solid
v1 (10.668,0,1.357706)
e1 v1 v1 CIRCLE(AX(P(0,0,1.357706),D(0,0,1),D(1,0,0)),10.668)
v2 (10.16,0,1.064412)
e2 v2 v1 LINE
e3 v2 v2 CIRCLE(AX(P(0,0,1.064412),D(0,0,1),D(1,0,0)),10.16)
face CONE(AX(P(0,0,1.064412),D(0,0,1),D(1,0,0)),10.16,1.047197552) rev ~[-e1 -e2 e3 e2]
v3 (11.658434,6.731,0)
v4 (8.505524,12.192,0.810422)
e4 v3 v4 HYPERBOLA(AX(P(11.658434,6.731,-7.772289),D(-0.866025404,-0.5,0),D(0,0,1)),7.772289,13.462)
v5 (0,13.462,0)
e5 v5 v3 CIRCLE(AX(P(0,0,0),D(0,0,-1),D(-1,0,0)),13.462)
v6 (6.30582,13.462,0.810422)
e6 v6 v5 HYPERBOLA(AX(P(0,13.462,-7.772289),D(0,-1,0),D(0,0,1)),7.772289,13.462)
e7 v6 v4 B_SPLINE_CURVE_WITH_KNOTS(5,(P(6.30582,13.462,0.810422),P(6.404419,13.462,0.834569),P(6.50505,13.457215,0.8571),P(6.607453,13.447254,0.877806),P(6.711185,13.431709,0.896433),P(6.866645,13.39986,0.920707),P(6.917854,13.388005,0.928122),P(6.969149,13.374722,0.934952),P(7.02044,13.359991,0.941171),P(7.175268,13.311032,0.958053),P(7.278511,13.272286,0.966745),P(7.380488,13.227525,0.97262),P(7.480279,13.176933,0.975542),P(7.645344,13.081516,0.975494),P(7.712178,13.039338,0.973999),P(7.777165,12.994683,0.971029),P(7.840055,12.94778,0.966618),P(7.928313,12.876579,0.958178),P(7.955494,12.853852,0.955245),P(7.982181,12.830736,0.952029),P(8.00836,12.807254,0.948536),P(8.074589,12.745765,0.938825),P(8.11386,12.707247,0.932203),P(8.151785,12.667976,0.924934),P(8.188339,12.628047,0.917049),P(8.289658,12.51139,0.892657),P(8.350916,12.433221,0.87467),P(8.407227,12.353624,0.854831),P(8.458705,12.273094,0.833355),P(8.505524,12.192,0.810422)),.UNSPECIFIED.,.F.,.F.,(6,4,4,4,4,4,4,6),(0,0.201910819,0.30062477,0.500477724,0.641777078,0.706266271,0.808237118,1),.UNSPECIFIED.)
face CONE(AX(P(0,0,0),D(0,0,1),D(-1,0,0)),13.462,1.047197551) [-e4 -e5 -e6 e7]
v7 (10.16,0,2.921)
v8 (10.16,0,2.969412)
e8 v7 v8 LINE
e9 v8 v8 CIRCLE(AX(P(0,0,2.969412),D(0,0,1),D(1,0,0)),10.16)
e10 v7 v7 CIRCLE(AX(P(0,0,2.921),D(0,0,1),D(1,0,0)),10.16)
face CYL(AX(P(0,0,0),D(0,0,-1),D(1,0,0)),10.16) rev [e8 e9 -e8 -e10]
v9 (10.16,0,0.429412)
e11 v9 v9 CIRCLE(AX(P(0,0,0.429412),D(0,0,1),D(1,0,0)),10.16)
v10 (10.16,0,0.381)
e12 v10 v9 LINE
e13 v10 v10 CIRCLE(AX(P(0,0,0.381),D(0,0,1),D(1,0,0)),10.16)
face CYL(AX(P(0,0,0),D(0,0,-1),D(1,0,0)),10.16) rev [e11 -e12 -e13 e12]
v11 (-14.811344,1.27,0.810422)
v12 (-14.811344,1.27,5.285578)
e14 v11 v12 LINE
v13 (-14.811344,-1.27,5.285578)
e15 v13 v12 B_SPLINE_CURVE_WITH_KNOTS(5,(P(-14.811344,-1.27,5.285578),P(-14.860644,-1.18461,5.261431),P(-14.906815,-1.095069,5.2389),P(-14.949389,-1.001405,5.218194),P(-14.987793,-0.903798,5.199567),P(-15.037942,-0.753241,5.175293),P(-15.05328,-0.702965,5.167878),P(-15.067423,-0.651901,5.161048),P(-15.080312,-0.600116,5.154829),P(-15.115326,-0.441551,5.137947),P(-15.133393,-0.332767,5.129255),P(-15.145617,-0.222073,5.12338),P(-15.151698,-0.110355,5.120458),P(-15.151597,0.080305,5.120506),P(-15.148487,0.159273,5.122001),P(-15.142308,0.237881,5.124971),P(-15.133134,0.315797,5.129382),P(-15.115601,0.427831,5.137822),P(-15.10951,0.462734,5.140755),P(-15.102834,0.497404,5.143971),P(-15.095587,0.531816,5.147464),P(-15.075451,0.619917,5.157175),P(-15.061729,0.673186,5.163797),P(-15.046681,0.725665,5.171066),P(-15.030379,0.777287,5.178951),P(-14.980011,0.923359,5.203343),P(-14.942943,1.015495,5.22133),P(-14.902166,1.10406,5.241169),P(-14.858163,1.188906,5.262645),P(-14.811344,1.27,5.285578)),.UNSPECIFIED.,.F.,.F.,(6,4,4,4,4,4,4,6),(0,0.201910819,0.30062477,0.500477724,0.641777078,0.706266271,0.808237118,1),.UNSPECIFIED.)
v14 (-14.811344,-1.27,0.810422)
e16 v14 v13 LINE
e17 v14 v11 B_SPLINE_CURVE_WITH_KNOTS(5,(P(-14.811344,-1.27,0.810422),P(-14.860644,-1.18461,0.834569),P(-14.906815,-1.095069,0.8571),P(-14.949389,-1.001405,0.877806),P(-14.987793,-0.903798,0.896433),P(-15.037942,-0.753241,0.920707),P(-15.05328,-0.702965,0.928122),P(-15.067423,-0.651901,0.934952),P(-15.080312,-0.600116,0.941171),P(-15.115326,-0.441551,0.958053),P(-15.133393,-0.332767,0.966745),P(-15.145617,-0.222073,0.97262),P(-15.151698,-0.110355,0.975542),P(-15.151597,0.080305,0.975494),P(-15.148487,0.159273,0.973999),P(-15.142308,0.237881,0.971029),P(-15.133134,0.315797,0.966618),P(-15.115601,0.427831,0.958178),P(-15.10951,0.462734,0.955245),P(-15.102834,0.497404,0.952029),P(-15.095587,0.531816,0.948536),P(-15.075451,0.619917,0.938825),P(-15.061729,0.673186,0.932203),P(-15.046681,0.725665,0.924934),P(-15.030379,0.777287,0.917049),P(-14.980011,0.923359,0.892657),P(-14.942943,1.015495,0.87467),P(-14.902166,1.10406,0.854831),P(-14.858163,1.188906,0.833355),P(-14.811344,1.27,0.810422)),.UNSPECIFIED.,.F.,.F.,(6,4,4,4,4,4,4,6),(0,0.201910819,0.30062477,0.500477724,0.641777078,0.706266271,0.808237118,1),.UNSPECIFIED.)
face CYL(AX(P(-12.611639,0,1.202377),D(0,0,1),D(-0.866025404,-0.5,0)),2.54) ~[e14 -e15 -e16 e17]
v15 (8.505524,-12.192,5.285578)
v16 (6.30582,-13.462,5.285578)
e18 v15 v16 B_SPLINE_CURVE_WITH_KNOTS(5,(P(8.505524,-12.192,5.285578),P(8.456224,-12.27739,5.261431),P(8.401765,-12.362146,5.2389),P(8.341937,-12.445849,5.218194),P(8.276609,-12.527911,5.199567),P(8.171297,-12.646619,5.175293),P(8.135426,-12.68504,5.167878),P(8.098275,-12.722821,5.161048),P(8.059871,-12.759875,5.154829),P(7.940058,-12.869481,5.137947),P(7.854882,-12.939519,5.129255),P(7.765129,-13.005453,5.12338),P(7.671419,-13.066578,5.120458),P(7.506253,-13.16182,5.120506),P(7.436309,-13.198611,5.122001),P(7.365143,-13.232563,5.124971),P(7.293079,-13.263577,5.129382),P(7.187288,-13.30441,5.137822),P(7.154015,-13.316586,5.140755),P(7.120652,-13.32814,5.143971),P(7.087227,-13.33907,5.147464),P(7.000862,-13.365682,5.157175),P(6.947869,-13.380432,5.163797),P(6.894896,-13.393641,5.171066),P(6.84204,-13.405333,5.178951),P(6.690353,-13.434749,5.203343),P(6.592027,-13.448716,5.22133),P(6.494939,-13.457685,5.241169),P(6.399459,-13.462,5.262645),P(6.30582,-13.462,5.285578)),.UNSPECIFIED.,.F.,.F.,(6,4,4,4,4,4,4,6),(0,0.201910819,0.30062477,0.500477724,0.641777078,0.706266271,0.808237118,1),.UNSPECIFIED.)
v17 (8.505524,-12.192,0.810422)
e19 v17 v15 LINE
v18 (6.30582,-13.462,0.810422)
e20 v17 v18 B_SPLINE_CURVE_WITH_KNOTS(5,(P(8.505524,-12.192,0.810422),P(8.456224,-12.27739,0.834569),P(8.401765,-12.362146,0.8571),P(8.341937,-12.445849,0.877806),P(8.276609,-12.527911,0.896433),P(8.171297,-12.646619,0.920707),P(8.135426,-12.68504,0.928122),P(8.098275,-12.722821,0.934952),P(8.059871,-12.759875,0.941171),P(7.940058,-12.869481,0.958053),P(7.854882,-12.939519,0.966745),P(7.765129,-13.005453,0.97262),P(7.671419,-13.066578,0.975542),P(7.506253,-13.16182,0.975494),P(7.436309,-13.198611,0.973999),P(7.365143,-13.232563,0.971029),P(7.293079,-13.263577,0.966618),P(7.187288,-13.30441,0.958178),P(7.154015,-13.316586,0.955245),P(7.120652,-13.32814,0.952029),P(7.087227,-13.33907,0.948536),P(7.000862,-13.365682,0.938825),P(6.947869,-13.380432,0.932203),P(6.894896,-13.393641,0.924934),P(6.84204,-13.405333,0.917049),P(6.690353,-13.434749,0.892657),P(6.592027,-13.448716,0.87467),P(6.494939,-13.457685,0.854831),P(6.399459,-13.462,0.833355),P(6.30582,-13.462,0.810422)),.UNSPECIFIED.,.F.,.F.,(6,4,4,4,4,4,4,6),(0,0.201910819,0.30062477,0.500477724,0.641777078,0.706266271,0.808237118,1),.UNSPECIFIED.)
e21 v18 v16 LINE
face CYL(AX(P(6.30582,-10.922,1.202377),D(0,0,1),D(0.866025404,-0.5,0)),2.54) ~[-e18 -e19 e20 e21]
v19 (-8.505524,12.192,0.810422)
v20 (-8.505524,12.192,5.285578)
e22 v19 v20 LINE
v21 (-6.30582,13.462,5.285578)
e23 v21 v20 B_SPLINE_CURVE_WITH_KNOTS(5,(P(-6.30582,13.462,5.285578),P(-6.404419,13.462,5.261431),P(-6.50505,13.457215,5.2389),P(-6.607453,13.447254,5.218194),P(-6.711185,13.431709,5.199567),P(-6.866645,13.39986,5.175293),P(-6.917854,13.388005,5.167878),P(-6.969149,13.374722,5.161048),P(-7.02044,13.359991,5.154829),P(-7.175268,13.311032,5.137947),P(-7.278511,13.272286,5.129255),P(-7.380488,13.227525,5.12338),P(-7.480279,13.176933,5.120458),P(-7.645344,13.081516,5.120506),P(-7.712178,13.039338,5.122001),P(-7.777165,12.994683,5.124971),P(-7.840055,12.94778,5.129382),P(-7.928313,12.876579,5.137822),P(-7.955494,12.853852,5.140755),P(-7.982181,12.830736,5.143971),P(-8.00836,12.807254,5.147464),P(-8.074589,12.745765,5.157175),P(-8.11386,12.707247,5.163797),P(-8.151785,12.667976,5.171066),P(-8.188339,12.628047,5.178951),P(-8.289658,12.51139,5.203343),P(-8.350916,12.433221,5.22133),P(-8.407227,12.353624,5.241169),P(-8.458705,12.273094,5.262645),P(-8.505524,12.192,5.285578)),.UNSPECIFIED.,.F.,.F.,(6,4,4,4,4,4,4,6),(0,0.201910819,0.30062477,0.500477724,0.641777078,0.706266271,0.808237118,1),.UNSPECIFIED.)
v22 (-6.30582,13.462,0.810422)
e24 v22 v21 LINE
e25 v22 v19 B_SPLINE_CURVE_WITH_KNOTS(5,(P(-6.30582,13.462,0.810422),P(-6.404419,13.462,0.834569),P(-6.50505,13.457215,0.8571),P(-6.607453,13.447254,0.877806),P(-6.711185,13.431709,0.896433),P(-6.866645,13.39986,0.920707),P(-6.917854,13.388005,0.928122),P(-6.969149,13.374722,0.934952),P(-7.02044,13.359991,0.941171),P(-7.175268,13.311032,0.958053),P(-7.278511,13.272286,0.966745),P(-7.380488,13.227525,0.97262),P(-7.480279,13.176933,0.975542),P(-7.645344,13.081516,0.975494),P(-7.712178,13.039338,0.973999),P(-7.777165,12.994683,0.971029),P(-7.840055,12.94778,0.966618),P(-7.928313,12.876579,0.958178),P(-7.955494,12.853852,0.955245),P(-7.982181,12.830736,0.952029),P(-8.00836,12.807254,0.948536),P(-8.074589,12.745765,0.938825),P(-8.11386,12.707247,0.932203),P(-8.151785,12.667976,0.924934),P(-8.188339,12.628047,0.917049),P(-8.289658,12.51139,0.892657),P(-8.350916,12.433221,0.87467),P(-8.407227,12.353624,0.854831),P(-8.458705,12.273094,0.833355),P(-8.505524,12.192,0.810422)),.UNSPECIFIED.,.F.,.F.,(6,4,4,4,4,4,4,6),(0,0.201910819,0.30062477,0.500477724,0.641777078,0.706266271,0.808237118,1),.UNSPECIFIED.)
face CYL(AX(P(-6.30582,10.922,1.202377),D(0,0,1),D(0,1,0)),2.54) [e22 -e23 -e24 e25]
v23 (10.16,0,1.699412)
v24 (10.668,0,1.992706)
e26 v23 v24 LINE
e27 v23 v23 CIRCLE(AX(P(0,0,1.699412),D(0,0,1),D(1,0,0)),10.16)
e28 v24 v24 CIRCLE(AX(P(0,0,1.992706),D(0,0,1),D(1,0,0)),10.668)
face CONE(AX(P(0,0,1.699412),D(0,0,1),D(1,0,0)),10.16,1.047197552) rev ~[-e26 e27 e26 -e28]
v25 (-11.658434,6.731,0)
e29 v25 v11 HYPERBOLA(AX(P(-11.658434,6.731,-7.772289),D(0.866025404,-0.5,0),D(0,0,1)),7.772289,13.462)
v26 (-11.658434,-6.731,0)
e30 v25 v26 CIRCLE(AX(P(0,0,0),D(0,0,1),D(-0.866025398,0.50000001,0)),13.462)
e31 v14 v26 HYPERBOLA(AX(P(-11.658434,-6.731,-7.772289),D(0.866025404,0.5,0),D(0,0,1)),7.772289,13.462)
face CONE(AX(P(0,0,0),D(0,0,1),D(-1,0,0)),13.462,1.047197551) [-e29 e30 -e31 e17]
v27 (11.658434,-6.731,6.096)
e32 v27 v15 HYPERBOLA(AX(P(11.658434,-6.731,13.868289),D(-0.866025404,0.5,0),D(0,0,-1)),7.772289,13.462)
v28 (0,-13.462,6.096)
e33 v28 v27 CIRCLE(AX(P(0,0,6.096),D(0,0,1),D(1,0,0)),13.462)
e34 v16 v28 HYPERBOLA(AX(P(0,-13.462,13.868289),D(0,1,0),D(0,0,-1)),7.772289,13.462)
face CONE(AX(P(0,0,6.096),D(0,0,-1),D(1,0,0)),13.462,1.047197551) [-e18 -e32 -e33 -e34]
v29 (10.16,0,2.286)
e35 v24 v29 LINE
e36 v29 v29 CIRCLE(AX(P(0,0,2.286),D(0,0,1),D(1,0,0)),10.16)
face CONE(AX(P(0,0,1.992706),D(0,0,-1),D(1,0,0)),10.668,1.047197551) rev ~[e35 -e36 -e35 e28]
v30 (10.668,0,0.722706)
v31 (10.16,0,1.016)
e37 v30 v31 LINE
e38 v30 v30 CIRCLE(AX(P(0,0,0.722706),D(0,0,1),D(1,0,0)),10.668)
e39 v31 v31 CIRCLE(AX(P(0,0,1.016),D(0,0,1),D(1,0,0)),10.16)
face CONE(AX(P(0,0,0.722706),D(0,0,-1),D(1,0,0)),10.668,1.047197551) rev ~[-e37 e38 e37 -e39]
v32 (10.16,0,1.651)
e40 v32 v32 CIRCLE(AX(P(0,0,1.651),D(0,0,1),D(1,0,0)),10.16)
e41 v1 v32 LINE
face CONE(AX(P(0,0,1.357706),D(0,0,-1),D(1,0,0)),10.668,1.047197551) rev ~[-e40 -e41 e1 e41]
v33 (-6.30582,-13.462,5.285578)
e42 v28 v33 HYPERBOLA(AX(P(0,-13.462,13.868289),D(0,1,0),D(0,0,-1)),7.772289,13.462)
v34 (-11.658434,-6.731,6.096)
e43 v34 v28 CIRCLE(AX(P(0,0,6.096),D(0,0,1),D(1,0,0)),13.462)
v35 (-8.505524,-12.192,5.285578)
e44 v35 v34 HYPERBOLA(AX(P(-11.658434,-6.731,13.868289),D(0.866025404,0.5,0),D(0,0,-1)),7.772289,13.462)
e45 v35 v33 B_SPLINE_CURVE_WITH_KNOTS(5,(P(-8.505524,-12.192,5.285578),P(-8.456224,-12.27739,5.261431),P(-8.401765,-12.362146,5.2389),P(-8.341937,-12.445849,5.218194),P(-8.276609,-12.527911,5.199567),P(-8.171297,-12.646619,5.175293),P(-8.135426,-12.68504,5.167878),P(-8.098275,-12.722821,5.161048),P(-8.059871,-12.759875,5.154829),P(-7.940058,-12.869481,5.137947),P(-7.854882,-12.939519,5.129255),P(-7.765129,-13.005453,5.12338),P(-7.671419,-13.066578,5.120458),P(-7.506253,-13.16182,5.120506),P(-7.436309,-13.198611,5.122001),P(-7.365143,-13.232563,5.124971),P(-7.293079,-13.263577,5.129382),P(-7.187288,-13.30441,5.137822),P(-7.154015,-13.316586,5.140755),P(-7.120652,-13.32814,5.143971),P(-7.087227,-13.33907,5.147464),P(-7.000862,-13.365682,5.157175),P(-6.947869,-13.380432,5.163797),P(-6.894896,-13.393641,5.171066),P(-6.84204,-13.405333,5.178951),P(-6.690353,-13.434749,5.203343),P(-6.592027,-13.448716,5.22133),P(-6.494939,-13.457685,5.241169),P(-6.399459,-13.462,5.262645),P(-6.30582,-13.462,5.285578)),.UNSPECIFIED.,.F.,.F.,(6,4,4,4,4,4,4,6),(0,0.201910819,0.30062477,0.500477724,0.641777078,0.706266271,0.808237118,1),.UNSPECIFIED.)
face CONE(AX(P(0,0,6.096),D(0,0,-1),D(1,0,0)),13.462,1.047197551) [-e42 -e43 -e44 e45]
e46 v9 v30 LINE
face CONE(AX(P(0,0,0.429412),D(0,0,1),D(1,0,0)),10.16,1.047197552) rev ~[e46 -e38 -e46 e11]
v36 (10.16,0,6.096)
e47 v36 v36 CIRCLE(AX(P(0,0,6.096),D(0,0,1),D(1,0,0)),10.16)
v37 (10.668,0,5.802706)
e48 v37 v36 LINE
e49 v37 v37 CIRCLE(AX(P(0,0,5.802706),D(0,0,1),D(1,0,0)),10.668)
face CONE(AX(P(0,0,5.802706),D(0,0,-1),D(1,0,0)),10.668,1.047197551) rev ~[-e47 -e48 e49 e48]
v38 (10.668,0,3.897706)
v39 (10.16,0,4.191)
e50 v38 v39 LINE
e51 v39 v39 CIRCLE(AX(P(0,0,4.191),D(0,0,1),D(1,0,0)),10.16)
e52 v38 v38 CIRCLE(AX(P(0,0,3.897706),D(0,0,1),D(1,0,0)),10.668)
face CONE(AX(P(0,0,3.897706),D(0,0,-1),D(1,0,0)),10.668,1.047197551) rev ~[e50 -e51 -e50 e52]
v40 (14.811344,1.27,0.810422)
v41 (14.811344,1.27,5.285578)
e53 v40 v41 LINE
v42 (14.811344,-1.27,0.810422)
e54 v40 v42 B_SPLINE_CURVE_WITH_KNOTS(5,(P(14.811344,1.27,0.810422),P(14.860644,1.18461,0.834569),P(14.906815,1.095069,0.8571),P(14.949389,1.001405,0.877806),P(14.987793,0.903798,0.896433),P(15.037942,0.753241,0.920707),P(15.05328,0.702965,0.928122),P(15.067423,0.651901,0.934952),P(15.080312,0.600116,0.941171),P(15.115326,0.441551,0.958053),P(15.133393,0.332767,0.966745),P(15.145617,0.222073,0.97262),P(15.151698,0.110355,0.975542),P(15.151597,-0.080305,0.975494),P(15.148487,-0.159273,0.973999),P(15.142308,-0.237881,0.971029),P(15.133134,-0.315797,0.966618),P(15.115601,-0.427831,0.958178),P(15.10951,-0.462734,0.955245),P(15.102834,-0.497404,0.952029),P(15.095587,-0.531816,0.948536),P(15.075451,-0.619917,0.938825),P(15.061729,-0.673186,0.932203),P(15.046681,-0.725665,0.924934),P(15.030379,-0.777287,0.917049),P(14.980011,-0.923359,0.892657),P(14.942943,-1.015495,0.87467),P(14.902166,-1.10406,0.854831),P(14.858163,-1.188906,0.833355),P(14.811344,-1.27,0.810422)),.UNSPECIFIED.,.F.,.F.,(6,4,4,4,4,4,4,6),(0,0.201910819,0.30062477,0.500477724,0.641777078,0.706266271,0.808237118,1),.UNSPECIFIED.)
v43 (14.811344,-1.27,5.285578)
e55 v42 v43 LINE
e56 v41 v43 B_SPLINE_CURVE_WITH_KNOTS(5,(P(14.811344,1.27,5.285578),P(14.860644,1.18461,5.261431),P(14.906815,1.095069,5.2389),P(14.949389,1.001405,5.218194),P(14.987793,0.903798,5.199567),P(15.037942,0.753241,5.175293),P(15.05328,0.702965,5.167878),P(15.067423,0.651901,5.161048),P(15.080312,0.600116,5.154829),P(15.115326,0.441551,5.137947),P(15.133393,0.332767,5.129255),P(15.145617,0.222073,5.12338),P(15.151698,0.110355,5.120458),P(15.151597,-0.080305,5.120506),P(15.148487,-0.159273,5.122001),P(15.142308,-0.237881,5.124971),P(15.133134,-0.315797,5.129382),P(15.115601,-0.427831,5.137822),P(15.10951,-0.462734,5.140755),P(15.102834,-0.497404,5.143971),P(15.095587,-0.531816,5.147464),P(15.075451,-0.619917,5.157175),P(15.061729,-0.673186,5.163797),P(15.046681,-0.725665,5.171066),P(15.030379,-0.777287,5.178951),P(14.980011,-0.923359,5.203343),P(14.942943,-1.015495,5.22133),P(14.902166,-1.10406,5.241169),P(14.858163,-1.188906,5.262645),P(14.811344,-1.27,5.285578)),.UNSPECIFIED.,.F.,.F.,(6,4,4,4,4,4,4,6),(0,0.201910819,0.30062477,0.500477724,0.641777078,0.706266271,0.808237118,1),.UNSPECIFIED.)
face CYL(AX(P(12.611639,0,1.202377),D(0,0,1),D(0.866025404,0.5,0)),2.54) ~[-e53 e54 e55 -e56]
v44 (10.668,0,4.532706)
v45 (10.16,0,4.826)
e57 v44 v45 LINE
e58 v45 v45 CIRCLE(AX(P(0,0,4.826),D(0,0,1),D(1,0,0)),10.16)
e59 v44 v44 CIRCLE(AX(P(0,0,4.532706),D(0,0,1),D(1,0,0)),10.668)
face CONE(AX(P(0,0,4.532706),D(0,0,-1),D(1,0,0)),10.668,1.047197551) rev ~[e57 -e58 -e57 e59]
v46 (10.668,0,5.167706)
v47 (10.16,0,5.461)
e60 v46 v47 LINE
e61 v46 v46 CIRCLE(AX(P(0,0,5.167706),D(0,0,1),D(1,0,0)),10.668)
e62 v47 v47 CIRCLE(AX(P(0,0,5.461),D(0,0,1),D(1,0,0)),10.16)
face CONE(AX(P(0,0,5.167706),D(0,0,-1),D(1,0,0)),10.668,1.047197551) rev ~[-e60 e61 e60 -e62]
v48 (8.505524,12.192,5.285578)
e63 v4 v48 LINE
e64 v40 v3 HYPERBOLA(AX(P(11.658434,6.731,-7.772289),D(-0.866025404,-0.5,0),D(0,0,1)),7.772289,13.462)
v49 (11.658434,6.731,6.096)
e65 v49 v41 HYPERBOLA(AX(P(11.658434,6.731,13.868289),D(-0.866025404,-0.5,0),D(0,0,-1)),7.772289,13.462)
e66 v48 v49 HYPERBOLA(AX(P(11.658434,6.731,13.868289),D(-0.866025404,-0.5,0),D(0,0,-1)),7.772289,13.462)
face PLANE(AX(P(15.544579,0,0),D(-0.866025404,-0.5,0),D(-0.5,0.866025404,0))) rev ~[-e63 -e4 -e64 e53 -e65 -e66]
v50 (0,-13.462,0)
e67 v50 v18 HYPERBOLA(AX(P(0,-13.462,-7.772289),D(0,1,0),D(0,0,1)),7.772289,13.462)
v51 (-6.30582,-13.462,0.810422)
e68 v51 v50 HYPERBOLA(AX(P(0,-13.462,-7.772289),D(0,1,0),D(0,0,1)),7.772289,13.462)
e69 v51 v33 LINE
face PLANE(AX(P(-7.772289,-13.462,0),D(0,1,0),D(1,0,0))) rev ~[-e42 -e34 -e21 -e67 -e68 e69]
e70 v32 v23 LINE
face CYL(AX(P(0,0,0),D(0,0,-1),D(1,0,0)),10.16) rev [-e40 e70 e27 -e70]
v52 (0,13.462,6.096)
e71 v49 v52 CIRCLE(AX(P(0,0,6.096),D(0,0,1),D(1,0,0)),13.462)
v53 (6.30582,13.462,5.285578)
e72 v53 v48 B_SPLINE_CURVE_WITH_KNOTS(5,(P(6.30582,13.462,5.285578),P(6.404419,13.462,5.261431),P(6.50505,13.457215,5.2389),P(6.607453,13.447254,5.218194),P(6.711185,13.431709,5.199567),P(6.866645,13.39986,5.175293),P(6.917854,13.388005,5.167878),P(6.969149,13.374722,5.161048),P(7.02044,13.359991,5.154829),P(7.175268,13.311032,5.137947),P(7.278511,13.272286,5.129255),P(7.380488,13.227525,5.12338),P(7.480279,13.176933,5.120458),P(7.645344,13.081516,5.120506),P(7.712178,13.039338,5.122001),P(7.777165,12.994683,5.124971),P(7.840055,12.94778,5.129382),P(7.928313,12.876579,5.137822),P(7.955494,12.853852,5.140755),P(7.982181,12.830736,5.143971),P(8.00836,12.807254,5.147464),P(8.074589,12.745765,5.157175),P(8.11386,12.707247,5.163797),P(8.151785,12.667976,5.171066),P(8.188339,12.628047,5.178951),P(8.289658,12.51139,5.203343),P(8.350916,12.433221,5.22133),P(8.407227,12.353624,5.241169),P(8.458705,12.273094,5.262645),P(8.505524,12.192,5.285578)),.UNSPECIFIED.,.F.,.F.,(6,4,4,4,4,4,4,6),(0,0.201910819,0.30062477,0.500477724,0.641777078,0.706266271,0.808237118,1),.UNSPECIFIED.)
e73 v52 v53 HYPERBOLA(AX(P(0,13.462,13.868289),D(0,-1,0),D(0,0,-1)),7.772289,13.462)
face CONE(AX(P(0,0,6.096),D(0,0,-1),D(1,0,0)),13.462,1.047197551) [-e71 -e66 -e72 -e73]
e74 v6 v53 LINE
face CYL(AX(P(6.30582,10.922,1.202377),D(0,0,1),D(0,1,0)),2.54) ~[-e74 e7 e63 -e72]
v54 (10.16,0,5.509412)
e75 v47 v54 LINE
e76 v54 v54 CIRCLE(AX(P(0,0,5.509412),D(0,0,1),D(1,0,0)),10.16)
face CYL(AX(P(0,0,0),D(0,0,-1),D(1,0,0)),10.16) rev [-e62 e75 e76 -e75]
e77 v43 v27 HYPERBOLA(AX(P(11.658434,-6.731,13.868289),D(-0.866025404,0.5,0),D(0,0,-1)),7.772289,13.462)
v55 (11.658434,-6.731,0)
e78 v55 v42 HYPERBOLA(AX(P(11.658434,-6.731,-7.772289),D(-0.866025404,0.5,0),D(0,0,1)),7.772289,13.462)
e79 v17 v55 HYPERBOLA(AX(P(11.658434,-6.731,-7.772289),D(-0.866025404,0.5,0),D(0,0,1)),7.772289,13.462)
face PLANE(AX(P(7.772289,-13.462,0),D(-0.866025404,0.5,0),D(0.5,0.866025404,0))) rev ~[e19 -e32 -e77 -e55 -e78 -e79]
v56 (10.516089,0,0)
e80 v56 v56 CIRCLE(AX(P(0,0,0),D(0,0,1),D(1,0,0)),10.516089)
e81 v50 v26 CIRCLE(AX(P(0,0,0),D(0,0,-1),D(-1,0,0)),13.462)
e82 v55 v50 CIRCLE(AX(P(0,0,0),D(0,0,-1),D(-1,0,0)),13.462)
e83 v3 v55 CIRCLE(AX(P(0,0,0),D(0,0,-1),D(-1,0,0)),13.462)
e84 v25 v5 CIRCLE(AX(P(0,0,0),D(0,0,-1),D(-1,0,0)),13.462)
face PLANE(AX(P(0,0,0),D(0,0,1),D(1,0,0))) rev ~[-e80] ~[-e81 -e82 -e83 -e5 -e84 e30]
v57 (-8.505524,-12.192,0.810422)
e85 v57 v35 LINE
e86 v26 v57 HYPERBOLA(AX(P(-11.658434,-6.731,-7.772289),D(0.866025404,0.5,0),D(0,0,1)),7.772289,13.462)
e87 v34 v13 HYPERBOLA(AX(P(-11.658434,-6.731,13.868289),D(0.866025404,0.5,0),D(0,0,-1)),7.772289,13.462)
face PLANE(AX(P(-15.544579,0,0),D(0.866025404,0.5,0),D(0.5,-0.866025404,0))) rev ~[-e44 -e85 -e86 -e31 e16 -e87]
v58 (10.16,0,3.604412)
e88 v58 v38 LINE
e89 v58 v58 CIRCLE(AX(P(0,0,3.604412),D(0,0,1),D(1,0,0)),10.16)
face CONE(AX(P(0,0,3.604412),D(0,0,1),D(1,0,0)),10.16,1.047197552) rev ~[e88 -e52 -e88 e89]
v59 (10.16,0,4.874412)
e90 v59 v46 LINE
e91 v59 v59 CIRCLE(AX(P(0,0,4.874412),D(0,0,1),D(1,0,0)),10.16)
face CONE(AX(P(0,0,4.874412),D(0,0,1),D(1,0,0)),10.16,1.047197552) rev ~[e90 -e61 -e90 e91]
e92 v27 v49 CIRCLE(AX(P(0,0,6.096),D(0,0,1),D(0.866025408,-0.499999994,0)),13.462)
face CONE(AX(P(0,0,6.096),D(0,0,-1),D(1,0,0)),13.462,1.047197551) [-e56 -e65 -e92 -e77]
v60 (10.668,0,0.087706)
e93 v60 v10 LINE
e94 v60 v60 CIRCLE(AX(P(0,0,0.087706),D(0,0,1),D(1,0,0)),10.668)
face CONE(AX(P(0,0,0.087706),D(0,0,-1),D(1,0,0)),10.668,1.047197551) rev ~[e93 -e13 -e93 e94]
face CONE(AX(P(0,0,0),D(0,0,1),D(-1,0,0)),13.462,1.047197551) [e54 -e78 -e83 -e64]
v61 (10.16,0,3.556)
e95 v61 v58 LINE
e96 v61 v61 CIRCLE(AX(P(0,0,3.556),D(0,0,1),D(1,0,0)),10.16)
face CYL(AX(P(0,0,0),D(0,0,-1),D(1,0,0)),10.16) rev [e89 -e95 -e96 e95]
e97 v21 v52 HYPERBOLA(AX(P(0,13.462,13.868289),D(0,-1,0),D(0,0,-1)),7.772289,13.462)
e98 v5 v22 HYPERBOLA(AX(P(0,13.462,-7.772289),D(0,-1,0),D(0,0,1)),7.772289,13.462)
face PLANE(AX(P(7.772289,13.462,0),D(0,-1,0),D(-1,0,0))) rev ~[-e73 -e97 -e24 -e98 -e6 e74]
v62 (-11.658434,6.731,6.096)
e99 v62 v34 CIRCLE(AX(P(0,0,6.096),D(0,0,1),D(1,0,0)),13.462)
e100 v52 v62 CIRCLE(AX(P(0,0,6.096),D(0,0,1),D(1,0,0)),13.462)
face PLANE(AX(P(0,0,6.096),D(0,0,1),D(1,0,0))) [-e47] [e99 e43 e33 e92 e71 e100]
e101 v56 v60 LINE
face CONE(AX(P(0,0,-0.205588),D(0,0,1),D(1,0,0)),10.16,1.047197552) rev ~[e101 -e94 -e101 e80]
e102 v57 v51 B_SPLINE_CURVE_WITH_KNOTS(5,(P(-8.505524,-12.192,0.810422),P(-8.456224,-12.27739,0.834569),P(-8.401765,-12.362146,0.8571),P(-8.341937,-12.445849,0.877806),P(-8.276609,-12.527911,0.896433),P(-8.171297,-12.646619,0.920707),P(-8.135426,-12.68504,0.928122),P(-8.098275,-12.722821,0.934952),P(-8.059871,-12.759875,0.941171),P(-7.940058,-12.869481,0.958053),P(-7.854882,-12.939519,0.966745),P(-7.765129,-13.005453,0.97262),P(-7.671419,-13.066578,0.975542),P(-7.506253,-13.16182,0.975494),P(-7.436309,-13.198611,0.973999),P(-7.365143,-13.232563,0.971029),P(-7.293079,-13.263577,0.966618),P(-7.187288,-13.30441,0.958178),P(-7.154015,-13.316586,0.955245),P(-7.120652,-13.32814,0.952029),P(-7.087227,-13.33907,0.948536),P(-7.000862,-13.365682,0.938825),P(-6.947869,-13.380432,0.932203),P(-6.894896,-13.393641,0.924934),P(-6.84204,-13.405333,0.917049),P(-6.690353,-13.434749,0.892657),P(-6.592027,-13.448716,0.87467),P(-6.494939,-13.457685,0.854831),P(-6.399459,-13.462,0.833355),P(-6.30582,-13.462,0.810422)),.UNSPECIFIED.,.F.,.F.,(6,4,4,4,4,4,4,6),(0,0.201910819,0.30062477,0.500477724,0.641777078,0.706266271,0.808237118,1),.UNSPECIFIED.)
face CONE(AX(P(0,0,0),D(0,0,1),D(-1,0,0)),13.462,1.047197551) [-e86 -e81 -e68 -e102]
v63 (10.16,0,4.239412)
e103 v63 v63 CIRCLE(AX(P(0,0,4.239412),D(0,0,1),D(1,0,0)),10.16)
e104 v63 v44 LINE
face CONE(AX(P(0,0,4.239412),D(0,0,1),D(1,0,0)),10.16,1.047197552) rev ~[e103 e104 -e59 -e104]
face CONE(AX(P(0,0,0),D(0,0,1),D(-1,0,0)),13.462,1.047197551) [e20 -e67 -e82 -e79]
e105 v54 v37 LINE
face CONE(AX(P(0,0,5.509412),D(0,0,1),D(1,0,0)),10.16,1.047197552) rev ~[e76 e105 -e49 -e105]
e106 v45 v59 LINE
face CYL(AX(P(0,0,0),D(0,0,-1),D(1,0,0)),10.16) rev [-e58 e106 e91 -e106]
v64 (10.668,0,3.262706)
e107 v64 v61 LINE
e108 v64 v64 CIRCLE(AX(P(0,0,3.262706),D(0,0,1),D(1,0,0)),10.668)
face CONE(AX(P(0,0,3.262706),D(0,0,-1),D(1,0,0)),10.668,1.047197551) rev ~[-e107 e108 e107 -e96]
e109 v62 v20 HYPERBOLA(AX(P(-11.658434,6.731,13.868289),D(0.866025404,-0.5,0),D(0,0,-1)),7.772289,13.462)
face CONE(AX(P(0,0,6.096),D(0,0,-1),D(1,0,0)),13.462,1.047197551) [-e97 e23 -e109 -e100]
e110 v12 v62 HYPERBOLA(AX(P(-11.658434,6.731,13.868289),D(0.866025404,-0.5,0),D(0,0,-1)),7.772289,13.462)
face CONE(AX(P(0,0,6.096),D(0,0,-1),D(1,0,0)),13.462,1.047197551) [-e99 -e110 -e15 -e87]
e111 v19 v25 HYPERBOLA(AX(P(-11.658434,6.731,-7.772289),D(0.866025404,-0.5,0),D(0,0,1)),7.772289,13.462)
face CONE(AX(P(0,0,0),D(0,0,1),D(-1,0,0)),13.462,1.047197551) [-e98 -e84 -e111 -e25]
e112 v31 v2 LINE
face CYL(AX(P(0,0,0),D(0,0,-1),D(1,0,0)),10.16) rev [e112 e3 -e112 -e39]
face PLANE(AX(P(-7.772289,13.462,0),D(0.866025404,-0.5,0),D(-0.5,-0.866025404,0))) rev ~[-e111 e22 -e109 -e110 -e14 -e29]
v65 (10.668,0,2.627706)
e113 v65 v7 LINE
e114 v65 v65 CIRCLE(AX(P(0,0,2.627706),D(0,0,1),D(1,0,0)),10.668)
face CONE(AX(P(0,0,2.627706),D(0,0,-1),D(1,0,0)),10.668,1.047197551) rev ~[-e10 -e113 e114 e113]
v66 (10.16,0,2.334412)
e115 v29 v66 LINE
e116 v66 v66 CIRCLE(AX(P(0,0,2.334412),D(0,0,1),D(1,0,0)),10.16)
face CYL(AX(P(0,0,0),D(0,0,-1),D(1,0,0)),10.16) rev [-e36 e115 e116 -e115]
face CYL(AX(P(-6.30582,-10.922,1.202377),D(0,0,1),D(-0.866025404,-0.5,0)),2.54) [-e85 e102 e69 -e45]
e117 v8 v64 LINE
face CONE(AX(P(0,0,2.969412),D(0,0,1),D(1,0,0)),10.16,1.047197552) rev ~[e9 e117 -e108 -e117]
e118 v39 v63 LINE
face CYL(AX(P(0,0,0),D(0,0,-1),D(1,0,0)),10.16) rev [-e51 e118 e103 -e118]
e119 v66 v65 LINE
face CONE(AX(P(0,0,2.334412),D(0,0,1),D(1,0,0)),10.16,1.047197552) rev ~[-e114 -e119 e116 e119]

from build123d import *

# Parameters (mm, degrees)
SKETCH1_R          = 10.16
EXTRUDE1_DEPTH     = 6.096
SKETCH2_OUTSIDE_W  = 65.986
SKETCH2_OUTSIDE_H  = 61.82
SKETCH2_OUTSIDE_R  = 13.462
CUT_EXTRUDE1_DEPTH = 7.096
CUT_EXTRUDE1_DRAFT = -60
SKETCH3_OUTSIDE_W  = 65.986
SKETCH3_OUTSIDE_H  = 61.82
SKETCH3_OUTSIDE_R  = 13.462
CUT_EXTRUDE2_DEPTH = 7.096
CUT_EXTRUDE2_DRAFT = -60
FILLET1_R          = 2.54
LPATTERN1_COUNT    = 10
LPATTERN1_PITCH    = 0.635


with BuildPart() as part:
    # Sketch1 → Extrude1 (new body)
    with BuildSketch(Plane.XY):
        Polygon((-15.544578648, 0), (-7.772289324, -13.462), (7.772289324, -13.462), (15.544578648, 0), (7.772289324, 13.462), (-7.772289324, 13.462), align=None)
        Circle(SKETCH1_R, mode=Mode.SUBTRACT)
    extrude(amount=EXTRUDE1_DEPTH)


with BuildPart() as cut_extrude1_tool:
    # Sketch2 outside → Cut-Extrude1 (with draft: the straight prism first)
    with BuildSketch(Plane.XY.offset(6.096)):
        Rectangle(SKETCH2_OUTSIDE_W, SKETCH2_OUTSIDE_H)
        Circle(SKETCH2_OUTSIDE_R, mode=Mode.SUBTRACT)
    extrude(amount=-CUT_EXTRUDE1_DEPTH)
    # Cut-Extrude1: the draft: its side faces are tilted about the plane it starts from
    cut_extrude1_sides = [cut_extrude1_tool.faces().sort_by_distance(p)[0] for p in [
        (0, -30.91, 2.548),
        (32.993, 0, 2.548),
        (0, 30.91, 2.548),
        (-32.993, 0, 2.548),
        (-13.462, 0, 2.548),
    ]]
    draft(cut_extrude1_sides, Plane.XY.offset(6.096), CUT_EXTRUDE1_DRAFT)


with BuildPart() as part_1:
    add(part.part)

    # Cut-Extrude1: cut by cut_extrude1_tool
    add(cut_extrude1_tool.part, mode=Mode.SUBTRACT)


with BuildPart() as cut_extrude2_tool:
    # Sketch3 outside → Cut-Extrude2 (with draft: the straight prism first)
    with BuildSketch(Plane(origin=(0, 0, 0), x_dir=(-1, 0, 0), z_dir=(0, 0, -1))):
        Rectangle(SKETCH3_OUTSIDE_W, SKETCH3_OUTSIDE_H)
        Circle(SKETCH3_OUTSIDE_R, mode=Mode.SUBTRACT)
    extrude(amount=-CUT_EXTRUDE2_DEPTH)
    # Cut-Extrude2: the draft: its side faces are tilted about the plane it starts from
    cut_extrude2_sides = [cut_extrude2_tool.faces().sort_by_distance(p)[0] for p in [
        (0, -30.91, 3.548),
        (-32.993, 0, 3.548),
        (0, 30.91, 3.548),
        (32.993, 0, 3.548),
        (13.462, 0, 3.548),
    ]]
    draft(cut_extrude2_sides, Plane(origin=(0, 0, 0), x_dir=(-1, 0, 0), z_dir=(0, 0, -1)), CUT_EXTRUDE2_DRAFT)


with BuildPart() as part_2:
    add(part_1.part)

    # Cut-Extrude2: cut by cut_extrude2_tool
    add(cut_extrude2_tool.part, mode=Mode.SUBTRACT)

    # Fillet1
    fillet1_edges = [part_2.edges().sort_by_distance(p)[0] for p in [
        (15.544578648, 0, 3.048),
        (7.772289324, -13.462, 3.048),
        (-7.772289324, -13.462, 3.048),
        (-15.544578648, 0, 3.048),
        (-7.772289324, 13.462, 3.048),
        (7.772289324, 13.462, 3.048),
    ]]
    fillet(fillet1_edges, radius=FILLET1_R)

    # Sketch4 → Cut-Revolve1 (revolve, cut)
    with BuildSketch(Plane(origin=(0, 0, 0), x_dir=(1, 0, 0), z_dir=(0, 1, 0)), mode=Mode.PRIVATE) as cut_revolve1_sk:
        Polygon((-10.16, -6.096), (-10.16, -5.509412127), (-10.668, -5.802706063), align=None)
    cut_revolve1 = revolve(cut_revolve1_sk.sketch.rotate(Axis((0, 0, 0), (0, 0, 1)), 180), axis=Axis((0, 0, 0), (0, 0, 1)), mode=Mode.SUBTRACT)  # turned: the seam where the file's is

    # LPattern1: Cut-Revolve1 ×10
    with Locations(*[(0, 0, -i * LPATTERN1_PITCH) for i in range(1, LPATTERN1_COUNT)]):
        add(cut_revolve1, mode=Mode.SUBTRACT)


solid = part_2.part
